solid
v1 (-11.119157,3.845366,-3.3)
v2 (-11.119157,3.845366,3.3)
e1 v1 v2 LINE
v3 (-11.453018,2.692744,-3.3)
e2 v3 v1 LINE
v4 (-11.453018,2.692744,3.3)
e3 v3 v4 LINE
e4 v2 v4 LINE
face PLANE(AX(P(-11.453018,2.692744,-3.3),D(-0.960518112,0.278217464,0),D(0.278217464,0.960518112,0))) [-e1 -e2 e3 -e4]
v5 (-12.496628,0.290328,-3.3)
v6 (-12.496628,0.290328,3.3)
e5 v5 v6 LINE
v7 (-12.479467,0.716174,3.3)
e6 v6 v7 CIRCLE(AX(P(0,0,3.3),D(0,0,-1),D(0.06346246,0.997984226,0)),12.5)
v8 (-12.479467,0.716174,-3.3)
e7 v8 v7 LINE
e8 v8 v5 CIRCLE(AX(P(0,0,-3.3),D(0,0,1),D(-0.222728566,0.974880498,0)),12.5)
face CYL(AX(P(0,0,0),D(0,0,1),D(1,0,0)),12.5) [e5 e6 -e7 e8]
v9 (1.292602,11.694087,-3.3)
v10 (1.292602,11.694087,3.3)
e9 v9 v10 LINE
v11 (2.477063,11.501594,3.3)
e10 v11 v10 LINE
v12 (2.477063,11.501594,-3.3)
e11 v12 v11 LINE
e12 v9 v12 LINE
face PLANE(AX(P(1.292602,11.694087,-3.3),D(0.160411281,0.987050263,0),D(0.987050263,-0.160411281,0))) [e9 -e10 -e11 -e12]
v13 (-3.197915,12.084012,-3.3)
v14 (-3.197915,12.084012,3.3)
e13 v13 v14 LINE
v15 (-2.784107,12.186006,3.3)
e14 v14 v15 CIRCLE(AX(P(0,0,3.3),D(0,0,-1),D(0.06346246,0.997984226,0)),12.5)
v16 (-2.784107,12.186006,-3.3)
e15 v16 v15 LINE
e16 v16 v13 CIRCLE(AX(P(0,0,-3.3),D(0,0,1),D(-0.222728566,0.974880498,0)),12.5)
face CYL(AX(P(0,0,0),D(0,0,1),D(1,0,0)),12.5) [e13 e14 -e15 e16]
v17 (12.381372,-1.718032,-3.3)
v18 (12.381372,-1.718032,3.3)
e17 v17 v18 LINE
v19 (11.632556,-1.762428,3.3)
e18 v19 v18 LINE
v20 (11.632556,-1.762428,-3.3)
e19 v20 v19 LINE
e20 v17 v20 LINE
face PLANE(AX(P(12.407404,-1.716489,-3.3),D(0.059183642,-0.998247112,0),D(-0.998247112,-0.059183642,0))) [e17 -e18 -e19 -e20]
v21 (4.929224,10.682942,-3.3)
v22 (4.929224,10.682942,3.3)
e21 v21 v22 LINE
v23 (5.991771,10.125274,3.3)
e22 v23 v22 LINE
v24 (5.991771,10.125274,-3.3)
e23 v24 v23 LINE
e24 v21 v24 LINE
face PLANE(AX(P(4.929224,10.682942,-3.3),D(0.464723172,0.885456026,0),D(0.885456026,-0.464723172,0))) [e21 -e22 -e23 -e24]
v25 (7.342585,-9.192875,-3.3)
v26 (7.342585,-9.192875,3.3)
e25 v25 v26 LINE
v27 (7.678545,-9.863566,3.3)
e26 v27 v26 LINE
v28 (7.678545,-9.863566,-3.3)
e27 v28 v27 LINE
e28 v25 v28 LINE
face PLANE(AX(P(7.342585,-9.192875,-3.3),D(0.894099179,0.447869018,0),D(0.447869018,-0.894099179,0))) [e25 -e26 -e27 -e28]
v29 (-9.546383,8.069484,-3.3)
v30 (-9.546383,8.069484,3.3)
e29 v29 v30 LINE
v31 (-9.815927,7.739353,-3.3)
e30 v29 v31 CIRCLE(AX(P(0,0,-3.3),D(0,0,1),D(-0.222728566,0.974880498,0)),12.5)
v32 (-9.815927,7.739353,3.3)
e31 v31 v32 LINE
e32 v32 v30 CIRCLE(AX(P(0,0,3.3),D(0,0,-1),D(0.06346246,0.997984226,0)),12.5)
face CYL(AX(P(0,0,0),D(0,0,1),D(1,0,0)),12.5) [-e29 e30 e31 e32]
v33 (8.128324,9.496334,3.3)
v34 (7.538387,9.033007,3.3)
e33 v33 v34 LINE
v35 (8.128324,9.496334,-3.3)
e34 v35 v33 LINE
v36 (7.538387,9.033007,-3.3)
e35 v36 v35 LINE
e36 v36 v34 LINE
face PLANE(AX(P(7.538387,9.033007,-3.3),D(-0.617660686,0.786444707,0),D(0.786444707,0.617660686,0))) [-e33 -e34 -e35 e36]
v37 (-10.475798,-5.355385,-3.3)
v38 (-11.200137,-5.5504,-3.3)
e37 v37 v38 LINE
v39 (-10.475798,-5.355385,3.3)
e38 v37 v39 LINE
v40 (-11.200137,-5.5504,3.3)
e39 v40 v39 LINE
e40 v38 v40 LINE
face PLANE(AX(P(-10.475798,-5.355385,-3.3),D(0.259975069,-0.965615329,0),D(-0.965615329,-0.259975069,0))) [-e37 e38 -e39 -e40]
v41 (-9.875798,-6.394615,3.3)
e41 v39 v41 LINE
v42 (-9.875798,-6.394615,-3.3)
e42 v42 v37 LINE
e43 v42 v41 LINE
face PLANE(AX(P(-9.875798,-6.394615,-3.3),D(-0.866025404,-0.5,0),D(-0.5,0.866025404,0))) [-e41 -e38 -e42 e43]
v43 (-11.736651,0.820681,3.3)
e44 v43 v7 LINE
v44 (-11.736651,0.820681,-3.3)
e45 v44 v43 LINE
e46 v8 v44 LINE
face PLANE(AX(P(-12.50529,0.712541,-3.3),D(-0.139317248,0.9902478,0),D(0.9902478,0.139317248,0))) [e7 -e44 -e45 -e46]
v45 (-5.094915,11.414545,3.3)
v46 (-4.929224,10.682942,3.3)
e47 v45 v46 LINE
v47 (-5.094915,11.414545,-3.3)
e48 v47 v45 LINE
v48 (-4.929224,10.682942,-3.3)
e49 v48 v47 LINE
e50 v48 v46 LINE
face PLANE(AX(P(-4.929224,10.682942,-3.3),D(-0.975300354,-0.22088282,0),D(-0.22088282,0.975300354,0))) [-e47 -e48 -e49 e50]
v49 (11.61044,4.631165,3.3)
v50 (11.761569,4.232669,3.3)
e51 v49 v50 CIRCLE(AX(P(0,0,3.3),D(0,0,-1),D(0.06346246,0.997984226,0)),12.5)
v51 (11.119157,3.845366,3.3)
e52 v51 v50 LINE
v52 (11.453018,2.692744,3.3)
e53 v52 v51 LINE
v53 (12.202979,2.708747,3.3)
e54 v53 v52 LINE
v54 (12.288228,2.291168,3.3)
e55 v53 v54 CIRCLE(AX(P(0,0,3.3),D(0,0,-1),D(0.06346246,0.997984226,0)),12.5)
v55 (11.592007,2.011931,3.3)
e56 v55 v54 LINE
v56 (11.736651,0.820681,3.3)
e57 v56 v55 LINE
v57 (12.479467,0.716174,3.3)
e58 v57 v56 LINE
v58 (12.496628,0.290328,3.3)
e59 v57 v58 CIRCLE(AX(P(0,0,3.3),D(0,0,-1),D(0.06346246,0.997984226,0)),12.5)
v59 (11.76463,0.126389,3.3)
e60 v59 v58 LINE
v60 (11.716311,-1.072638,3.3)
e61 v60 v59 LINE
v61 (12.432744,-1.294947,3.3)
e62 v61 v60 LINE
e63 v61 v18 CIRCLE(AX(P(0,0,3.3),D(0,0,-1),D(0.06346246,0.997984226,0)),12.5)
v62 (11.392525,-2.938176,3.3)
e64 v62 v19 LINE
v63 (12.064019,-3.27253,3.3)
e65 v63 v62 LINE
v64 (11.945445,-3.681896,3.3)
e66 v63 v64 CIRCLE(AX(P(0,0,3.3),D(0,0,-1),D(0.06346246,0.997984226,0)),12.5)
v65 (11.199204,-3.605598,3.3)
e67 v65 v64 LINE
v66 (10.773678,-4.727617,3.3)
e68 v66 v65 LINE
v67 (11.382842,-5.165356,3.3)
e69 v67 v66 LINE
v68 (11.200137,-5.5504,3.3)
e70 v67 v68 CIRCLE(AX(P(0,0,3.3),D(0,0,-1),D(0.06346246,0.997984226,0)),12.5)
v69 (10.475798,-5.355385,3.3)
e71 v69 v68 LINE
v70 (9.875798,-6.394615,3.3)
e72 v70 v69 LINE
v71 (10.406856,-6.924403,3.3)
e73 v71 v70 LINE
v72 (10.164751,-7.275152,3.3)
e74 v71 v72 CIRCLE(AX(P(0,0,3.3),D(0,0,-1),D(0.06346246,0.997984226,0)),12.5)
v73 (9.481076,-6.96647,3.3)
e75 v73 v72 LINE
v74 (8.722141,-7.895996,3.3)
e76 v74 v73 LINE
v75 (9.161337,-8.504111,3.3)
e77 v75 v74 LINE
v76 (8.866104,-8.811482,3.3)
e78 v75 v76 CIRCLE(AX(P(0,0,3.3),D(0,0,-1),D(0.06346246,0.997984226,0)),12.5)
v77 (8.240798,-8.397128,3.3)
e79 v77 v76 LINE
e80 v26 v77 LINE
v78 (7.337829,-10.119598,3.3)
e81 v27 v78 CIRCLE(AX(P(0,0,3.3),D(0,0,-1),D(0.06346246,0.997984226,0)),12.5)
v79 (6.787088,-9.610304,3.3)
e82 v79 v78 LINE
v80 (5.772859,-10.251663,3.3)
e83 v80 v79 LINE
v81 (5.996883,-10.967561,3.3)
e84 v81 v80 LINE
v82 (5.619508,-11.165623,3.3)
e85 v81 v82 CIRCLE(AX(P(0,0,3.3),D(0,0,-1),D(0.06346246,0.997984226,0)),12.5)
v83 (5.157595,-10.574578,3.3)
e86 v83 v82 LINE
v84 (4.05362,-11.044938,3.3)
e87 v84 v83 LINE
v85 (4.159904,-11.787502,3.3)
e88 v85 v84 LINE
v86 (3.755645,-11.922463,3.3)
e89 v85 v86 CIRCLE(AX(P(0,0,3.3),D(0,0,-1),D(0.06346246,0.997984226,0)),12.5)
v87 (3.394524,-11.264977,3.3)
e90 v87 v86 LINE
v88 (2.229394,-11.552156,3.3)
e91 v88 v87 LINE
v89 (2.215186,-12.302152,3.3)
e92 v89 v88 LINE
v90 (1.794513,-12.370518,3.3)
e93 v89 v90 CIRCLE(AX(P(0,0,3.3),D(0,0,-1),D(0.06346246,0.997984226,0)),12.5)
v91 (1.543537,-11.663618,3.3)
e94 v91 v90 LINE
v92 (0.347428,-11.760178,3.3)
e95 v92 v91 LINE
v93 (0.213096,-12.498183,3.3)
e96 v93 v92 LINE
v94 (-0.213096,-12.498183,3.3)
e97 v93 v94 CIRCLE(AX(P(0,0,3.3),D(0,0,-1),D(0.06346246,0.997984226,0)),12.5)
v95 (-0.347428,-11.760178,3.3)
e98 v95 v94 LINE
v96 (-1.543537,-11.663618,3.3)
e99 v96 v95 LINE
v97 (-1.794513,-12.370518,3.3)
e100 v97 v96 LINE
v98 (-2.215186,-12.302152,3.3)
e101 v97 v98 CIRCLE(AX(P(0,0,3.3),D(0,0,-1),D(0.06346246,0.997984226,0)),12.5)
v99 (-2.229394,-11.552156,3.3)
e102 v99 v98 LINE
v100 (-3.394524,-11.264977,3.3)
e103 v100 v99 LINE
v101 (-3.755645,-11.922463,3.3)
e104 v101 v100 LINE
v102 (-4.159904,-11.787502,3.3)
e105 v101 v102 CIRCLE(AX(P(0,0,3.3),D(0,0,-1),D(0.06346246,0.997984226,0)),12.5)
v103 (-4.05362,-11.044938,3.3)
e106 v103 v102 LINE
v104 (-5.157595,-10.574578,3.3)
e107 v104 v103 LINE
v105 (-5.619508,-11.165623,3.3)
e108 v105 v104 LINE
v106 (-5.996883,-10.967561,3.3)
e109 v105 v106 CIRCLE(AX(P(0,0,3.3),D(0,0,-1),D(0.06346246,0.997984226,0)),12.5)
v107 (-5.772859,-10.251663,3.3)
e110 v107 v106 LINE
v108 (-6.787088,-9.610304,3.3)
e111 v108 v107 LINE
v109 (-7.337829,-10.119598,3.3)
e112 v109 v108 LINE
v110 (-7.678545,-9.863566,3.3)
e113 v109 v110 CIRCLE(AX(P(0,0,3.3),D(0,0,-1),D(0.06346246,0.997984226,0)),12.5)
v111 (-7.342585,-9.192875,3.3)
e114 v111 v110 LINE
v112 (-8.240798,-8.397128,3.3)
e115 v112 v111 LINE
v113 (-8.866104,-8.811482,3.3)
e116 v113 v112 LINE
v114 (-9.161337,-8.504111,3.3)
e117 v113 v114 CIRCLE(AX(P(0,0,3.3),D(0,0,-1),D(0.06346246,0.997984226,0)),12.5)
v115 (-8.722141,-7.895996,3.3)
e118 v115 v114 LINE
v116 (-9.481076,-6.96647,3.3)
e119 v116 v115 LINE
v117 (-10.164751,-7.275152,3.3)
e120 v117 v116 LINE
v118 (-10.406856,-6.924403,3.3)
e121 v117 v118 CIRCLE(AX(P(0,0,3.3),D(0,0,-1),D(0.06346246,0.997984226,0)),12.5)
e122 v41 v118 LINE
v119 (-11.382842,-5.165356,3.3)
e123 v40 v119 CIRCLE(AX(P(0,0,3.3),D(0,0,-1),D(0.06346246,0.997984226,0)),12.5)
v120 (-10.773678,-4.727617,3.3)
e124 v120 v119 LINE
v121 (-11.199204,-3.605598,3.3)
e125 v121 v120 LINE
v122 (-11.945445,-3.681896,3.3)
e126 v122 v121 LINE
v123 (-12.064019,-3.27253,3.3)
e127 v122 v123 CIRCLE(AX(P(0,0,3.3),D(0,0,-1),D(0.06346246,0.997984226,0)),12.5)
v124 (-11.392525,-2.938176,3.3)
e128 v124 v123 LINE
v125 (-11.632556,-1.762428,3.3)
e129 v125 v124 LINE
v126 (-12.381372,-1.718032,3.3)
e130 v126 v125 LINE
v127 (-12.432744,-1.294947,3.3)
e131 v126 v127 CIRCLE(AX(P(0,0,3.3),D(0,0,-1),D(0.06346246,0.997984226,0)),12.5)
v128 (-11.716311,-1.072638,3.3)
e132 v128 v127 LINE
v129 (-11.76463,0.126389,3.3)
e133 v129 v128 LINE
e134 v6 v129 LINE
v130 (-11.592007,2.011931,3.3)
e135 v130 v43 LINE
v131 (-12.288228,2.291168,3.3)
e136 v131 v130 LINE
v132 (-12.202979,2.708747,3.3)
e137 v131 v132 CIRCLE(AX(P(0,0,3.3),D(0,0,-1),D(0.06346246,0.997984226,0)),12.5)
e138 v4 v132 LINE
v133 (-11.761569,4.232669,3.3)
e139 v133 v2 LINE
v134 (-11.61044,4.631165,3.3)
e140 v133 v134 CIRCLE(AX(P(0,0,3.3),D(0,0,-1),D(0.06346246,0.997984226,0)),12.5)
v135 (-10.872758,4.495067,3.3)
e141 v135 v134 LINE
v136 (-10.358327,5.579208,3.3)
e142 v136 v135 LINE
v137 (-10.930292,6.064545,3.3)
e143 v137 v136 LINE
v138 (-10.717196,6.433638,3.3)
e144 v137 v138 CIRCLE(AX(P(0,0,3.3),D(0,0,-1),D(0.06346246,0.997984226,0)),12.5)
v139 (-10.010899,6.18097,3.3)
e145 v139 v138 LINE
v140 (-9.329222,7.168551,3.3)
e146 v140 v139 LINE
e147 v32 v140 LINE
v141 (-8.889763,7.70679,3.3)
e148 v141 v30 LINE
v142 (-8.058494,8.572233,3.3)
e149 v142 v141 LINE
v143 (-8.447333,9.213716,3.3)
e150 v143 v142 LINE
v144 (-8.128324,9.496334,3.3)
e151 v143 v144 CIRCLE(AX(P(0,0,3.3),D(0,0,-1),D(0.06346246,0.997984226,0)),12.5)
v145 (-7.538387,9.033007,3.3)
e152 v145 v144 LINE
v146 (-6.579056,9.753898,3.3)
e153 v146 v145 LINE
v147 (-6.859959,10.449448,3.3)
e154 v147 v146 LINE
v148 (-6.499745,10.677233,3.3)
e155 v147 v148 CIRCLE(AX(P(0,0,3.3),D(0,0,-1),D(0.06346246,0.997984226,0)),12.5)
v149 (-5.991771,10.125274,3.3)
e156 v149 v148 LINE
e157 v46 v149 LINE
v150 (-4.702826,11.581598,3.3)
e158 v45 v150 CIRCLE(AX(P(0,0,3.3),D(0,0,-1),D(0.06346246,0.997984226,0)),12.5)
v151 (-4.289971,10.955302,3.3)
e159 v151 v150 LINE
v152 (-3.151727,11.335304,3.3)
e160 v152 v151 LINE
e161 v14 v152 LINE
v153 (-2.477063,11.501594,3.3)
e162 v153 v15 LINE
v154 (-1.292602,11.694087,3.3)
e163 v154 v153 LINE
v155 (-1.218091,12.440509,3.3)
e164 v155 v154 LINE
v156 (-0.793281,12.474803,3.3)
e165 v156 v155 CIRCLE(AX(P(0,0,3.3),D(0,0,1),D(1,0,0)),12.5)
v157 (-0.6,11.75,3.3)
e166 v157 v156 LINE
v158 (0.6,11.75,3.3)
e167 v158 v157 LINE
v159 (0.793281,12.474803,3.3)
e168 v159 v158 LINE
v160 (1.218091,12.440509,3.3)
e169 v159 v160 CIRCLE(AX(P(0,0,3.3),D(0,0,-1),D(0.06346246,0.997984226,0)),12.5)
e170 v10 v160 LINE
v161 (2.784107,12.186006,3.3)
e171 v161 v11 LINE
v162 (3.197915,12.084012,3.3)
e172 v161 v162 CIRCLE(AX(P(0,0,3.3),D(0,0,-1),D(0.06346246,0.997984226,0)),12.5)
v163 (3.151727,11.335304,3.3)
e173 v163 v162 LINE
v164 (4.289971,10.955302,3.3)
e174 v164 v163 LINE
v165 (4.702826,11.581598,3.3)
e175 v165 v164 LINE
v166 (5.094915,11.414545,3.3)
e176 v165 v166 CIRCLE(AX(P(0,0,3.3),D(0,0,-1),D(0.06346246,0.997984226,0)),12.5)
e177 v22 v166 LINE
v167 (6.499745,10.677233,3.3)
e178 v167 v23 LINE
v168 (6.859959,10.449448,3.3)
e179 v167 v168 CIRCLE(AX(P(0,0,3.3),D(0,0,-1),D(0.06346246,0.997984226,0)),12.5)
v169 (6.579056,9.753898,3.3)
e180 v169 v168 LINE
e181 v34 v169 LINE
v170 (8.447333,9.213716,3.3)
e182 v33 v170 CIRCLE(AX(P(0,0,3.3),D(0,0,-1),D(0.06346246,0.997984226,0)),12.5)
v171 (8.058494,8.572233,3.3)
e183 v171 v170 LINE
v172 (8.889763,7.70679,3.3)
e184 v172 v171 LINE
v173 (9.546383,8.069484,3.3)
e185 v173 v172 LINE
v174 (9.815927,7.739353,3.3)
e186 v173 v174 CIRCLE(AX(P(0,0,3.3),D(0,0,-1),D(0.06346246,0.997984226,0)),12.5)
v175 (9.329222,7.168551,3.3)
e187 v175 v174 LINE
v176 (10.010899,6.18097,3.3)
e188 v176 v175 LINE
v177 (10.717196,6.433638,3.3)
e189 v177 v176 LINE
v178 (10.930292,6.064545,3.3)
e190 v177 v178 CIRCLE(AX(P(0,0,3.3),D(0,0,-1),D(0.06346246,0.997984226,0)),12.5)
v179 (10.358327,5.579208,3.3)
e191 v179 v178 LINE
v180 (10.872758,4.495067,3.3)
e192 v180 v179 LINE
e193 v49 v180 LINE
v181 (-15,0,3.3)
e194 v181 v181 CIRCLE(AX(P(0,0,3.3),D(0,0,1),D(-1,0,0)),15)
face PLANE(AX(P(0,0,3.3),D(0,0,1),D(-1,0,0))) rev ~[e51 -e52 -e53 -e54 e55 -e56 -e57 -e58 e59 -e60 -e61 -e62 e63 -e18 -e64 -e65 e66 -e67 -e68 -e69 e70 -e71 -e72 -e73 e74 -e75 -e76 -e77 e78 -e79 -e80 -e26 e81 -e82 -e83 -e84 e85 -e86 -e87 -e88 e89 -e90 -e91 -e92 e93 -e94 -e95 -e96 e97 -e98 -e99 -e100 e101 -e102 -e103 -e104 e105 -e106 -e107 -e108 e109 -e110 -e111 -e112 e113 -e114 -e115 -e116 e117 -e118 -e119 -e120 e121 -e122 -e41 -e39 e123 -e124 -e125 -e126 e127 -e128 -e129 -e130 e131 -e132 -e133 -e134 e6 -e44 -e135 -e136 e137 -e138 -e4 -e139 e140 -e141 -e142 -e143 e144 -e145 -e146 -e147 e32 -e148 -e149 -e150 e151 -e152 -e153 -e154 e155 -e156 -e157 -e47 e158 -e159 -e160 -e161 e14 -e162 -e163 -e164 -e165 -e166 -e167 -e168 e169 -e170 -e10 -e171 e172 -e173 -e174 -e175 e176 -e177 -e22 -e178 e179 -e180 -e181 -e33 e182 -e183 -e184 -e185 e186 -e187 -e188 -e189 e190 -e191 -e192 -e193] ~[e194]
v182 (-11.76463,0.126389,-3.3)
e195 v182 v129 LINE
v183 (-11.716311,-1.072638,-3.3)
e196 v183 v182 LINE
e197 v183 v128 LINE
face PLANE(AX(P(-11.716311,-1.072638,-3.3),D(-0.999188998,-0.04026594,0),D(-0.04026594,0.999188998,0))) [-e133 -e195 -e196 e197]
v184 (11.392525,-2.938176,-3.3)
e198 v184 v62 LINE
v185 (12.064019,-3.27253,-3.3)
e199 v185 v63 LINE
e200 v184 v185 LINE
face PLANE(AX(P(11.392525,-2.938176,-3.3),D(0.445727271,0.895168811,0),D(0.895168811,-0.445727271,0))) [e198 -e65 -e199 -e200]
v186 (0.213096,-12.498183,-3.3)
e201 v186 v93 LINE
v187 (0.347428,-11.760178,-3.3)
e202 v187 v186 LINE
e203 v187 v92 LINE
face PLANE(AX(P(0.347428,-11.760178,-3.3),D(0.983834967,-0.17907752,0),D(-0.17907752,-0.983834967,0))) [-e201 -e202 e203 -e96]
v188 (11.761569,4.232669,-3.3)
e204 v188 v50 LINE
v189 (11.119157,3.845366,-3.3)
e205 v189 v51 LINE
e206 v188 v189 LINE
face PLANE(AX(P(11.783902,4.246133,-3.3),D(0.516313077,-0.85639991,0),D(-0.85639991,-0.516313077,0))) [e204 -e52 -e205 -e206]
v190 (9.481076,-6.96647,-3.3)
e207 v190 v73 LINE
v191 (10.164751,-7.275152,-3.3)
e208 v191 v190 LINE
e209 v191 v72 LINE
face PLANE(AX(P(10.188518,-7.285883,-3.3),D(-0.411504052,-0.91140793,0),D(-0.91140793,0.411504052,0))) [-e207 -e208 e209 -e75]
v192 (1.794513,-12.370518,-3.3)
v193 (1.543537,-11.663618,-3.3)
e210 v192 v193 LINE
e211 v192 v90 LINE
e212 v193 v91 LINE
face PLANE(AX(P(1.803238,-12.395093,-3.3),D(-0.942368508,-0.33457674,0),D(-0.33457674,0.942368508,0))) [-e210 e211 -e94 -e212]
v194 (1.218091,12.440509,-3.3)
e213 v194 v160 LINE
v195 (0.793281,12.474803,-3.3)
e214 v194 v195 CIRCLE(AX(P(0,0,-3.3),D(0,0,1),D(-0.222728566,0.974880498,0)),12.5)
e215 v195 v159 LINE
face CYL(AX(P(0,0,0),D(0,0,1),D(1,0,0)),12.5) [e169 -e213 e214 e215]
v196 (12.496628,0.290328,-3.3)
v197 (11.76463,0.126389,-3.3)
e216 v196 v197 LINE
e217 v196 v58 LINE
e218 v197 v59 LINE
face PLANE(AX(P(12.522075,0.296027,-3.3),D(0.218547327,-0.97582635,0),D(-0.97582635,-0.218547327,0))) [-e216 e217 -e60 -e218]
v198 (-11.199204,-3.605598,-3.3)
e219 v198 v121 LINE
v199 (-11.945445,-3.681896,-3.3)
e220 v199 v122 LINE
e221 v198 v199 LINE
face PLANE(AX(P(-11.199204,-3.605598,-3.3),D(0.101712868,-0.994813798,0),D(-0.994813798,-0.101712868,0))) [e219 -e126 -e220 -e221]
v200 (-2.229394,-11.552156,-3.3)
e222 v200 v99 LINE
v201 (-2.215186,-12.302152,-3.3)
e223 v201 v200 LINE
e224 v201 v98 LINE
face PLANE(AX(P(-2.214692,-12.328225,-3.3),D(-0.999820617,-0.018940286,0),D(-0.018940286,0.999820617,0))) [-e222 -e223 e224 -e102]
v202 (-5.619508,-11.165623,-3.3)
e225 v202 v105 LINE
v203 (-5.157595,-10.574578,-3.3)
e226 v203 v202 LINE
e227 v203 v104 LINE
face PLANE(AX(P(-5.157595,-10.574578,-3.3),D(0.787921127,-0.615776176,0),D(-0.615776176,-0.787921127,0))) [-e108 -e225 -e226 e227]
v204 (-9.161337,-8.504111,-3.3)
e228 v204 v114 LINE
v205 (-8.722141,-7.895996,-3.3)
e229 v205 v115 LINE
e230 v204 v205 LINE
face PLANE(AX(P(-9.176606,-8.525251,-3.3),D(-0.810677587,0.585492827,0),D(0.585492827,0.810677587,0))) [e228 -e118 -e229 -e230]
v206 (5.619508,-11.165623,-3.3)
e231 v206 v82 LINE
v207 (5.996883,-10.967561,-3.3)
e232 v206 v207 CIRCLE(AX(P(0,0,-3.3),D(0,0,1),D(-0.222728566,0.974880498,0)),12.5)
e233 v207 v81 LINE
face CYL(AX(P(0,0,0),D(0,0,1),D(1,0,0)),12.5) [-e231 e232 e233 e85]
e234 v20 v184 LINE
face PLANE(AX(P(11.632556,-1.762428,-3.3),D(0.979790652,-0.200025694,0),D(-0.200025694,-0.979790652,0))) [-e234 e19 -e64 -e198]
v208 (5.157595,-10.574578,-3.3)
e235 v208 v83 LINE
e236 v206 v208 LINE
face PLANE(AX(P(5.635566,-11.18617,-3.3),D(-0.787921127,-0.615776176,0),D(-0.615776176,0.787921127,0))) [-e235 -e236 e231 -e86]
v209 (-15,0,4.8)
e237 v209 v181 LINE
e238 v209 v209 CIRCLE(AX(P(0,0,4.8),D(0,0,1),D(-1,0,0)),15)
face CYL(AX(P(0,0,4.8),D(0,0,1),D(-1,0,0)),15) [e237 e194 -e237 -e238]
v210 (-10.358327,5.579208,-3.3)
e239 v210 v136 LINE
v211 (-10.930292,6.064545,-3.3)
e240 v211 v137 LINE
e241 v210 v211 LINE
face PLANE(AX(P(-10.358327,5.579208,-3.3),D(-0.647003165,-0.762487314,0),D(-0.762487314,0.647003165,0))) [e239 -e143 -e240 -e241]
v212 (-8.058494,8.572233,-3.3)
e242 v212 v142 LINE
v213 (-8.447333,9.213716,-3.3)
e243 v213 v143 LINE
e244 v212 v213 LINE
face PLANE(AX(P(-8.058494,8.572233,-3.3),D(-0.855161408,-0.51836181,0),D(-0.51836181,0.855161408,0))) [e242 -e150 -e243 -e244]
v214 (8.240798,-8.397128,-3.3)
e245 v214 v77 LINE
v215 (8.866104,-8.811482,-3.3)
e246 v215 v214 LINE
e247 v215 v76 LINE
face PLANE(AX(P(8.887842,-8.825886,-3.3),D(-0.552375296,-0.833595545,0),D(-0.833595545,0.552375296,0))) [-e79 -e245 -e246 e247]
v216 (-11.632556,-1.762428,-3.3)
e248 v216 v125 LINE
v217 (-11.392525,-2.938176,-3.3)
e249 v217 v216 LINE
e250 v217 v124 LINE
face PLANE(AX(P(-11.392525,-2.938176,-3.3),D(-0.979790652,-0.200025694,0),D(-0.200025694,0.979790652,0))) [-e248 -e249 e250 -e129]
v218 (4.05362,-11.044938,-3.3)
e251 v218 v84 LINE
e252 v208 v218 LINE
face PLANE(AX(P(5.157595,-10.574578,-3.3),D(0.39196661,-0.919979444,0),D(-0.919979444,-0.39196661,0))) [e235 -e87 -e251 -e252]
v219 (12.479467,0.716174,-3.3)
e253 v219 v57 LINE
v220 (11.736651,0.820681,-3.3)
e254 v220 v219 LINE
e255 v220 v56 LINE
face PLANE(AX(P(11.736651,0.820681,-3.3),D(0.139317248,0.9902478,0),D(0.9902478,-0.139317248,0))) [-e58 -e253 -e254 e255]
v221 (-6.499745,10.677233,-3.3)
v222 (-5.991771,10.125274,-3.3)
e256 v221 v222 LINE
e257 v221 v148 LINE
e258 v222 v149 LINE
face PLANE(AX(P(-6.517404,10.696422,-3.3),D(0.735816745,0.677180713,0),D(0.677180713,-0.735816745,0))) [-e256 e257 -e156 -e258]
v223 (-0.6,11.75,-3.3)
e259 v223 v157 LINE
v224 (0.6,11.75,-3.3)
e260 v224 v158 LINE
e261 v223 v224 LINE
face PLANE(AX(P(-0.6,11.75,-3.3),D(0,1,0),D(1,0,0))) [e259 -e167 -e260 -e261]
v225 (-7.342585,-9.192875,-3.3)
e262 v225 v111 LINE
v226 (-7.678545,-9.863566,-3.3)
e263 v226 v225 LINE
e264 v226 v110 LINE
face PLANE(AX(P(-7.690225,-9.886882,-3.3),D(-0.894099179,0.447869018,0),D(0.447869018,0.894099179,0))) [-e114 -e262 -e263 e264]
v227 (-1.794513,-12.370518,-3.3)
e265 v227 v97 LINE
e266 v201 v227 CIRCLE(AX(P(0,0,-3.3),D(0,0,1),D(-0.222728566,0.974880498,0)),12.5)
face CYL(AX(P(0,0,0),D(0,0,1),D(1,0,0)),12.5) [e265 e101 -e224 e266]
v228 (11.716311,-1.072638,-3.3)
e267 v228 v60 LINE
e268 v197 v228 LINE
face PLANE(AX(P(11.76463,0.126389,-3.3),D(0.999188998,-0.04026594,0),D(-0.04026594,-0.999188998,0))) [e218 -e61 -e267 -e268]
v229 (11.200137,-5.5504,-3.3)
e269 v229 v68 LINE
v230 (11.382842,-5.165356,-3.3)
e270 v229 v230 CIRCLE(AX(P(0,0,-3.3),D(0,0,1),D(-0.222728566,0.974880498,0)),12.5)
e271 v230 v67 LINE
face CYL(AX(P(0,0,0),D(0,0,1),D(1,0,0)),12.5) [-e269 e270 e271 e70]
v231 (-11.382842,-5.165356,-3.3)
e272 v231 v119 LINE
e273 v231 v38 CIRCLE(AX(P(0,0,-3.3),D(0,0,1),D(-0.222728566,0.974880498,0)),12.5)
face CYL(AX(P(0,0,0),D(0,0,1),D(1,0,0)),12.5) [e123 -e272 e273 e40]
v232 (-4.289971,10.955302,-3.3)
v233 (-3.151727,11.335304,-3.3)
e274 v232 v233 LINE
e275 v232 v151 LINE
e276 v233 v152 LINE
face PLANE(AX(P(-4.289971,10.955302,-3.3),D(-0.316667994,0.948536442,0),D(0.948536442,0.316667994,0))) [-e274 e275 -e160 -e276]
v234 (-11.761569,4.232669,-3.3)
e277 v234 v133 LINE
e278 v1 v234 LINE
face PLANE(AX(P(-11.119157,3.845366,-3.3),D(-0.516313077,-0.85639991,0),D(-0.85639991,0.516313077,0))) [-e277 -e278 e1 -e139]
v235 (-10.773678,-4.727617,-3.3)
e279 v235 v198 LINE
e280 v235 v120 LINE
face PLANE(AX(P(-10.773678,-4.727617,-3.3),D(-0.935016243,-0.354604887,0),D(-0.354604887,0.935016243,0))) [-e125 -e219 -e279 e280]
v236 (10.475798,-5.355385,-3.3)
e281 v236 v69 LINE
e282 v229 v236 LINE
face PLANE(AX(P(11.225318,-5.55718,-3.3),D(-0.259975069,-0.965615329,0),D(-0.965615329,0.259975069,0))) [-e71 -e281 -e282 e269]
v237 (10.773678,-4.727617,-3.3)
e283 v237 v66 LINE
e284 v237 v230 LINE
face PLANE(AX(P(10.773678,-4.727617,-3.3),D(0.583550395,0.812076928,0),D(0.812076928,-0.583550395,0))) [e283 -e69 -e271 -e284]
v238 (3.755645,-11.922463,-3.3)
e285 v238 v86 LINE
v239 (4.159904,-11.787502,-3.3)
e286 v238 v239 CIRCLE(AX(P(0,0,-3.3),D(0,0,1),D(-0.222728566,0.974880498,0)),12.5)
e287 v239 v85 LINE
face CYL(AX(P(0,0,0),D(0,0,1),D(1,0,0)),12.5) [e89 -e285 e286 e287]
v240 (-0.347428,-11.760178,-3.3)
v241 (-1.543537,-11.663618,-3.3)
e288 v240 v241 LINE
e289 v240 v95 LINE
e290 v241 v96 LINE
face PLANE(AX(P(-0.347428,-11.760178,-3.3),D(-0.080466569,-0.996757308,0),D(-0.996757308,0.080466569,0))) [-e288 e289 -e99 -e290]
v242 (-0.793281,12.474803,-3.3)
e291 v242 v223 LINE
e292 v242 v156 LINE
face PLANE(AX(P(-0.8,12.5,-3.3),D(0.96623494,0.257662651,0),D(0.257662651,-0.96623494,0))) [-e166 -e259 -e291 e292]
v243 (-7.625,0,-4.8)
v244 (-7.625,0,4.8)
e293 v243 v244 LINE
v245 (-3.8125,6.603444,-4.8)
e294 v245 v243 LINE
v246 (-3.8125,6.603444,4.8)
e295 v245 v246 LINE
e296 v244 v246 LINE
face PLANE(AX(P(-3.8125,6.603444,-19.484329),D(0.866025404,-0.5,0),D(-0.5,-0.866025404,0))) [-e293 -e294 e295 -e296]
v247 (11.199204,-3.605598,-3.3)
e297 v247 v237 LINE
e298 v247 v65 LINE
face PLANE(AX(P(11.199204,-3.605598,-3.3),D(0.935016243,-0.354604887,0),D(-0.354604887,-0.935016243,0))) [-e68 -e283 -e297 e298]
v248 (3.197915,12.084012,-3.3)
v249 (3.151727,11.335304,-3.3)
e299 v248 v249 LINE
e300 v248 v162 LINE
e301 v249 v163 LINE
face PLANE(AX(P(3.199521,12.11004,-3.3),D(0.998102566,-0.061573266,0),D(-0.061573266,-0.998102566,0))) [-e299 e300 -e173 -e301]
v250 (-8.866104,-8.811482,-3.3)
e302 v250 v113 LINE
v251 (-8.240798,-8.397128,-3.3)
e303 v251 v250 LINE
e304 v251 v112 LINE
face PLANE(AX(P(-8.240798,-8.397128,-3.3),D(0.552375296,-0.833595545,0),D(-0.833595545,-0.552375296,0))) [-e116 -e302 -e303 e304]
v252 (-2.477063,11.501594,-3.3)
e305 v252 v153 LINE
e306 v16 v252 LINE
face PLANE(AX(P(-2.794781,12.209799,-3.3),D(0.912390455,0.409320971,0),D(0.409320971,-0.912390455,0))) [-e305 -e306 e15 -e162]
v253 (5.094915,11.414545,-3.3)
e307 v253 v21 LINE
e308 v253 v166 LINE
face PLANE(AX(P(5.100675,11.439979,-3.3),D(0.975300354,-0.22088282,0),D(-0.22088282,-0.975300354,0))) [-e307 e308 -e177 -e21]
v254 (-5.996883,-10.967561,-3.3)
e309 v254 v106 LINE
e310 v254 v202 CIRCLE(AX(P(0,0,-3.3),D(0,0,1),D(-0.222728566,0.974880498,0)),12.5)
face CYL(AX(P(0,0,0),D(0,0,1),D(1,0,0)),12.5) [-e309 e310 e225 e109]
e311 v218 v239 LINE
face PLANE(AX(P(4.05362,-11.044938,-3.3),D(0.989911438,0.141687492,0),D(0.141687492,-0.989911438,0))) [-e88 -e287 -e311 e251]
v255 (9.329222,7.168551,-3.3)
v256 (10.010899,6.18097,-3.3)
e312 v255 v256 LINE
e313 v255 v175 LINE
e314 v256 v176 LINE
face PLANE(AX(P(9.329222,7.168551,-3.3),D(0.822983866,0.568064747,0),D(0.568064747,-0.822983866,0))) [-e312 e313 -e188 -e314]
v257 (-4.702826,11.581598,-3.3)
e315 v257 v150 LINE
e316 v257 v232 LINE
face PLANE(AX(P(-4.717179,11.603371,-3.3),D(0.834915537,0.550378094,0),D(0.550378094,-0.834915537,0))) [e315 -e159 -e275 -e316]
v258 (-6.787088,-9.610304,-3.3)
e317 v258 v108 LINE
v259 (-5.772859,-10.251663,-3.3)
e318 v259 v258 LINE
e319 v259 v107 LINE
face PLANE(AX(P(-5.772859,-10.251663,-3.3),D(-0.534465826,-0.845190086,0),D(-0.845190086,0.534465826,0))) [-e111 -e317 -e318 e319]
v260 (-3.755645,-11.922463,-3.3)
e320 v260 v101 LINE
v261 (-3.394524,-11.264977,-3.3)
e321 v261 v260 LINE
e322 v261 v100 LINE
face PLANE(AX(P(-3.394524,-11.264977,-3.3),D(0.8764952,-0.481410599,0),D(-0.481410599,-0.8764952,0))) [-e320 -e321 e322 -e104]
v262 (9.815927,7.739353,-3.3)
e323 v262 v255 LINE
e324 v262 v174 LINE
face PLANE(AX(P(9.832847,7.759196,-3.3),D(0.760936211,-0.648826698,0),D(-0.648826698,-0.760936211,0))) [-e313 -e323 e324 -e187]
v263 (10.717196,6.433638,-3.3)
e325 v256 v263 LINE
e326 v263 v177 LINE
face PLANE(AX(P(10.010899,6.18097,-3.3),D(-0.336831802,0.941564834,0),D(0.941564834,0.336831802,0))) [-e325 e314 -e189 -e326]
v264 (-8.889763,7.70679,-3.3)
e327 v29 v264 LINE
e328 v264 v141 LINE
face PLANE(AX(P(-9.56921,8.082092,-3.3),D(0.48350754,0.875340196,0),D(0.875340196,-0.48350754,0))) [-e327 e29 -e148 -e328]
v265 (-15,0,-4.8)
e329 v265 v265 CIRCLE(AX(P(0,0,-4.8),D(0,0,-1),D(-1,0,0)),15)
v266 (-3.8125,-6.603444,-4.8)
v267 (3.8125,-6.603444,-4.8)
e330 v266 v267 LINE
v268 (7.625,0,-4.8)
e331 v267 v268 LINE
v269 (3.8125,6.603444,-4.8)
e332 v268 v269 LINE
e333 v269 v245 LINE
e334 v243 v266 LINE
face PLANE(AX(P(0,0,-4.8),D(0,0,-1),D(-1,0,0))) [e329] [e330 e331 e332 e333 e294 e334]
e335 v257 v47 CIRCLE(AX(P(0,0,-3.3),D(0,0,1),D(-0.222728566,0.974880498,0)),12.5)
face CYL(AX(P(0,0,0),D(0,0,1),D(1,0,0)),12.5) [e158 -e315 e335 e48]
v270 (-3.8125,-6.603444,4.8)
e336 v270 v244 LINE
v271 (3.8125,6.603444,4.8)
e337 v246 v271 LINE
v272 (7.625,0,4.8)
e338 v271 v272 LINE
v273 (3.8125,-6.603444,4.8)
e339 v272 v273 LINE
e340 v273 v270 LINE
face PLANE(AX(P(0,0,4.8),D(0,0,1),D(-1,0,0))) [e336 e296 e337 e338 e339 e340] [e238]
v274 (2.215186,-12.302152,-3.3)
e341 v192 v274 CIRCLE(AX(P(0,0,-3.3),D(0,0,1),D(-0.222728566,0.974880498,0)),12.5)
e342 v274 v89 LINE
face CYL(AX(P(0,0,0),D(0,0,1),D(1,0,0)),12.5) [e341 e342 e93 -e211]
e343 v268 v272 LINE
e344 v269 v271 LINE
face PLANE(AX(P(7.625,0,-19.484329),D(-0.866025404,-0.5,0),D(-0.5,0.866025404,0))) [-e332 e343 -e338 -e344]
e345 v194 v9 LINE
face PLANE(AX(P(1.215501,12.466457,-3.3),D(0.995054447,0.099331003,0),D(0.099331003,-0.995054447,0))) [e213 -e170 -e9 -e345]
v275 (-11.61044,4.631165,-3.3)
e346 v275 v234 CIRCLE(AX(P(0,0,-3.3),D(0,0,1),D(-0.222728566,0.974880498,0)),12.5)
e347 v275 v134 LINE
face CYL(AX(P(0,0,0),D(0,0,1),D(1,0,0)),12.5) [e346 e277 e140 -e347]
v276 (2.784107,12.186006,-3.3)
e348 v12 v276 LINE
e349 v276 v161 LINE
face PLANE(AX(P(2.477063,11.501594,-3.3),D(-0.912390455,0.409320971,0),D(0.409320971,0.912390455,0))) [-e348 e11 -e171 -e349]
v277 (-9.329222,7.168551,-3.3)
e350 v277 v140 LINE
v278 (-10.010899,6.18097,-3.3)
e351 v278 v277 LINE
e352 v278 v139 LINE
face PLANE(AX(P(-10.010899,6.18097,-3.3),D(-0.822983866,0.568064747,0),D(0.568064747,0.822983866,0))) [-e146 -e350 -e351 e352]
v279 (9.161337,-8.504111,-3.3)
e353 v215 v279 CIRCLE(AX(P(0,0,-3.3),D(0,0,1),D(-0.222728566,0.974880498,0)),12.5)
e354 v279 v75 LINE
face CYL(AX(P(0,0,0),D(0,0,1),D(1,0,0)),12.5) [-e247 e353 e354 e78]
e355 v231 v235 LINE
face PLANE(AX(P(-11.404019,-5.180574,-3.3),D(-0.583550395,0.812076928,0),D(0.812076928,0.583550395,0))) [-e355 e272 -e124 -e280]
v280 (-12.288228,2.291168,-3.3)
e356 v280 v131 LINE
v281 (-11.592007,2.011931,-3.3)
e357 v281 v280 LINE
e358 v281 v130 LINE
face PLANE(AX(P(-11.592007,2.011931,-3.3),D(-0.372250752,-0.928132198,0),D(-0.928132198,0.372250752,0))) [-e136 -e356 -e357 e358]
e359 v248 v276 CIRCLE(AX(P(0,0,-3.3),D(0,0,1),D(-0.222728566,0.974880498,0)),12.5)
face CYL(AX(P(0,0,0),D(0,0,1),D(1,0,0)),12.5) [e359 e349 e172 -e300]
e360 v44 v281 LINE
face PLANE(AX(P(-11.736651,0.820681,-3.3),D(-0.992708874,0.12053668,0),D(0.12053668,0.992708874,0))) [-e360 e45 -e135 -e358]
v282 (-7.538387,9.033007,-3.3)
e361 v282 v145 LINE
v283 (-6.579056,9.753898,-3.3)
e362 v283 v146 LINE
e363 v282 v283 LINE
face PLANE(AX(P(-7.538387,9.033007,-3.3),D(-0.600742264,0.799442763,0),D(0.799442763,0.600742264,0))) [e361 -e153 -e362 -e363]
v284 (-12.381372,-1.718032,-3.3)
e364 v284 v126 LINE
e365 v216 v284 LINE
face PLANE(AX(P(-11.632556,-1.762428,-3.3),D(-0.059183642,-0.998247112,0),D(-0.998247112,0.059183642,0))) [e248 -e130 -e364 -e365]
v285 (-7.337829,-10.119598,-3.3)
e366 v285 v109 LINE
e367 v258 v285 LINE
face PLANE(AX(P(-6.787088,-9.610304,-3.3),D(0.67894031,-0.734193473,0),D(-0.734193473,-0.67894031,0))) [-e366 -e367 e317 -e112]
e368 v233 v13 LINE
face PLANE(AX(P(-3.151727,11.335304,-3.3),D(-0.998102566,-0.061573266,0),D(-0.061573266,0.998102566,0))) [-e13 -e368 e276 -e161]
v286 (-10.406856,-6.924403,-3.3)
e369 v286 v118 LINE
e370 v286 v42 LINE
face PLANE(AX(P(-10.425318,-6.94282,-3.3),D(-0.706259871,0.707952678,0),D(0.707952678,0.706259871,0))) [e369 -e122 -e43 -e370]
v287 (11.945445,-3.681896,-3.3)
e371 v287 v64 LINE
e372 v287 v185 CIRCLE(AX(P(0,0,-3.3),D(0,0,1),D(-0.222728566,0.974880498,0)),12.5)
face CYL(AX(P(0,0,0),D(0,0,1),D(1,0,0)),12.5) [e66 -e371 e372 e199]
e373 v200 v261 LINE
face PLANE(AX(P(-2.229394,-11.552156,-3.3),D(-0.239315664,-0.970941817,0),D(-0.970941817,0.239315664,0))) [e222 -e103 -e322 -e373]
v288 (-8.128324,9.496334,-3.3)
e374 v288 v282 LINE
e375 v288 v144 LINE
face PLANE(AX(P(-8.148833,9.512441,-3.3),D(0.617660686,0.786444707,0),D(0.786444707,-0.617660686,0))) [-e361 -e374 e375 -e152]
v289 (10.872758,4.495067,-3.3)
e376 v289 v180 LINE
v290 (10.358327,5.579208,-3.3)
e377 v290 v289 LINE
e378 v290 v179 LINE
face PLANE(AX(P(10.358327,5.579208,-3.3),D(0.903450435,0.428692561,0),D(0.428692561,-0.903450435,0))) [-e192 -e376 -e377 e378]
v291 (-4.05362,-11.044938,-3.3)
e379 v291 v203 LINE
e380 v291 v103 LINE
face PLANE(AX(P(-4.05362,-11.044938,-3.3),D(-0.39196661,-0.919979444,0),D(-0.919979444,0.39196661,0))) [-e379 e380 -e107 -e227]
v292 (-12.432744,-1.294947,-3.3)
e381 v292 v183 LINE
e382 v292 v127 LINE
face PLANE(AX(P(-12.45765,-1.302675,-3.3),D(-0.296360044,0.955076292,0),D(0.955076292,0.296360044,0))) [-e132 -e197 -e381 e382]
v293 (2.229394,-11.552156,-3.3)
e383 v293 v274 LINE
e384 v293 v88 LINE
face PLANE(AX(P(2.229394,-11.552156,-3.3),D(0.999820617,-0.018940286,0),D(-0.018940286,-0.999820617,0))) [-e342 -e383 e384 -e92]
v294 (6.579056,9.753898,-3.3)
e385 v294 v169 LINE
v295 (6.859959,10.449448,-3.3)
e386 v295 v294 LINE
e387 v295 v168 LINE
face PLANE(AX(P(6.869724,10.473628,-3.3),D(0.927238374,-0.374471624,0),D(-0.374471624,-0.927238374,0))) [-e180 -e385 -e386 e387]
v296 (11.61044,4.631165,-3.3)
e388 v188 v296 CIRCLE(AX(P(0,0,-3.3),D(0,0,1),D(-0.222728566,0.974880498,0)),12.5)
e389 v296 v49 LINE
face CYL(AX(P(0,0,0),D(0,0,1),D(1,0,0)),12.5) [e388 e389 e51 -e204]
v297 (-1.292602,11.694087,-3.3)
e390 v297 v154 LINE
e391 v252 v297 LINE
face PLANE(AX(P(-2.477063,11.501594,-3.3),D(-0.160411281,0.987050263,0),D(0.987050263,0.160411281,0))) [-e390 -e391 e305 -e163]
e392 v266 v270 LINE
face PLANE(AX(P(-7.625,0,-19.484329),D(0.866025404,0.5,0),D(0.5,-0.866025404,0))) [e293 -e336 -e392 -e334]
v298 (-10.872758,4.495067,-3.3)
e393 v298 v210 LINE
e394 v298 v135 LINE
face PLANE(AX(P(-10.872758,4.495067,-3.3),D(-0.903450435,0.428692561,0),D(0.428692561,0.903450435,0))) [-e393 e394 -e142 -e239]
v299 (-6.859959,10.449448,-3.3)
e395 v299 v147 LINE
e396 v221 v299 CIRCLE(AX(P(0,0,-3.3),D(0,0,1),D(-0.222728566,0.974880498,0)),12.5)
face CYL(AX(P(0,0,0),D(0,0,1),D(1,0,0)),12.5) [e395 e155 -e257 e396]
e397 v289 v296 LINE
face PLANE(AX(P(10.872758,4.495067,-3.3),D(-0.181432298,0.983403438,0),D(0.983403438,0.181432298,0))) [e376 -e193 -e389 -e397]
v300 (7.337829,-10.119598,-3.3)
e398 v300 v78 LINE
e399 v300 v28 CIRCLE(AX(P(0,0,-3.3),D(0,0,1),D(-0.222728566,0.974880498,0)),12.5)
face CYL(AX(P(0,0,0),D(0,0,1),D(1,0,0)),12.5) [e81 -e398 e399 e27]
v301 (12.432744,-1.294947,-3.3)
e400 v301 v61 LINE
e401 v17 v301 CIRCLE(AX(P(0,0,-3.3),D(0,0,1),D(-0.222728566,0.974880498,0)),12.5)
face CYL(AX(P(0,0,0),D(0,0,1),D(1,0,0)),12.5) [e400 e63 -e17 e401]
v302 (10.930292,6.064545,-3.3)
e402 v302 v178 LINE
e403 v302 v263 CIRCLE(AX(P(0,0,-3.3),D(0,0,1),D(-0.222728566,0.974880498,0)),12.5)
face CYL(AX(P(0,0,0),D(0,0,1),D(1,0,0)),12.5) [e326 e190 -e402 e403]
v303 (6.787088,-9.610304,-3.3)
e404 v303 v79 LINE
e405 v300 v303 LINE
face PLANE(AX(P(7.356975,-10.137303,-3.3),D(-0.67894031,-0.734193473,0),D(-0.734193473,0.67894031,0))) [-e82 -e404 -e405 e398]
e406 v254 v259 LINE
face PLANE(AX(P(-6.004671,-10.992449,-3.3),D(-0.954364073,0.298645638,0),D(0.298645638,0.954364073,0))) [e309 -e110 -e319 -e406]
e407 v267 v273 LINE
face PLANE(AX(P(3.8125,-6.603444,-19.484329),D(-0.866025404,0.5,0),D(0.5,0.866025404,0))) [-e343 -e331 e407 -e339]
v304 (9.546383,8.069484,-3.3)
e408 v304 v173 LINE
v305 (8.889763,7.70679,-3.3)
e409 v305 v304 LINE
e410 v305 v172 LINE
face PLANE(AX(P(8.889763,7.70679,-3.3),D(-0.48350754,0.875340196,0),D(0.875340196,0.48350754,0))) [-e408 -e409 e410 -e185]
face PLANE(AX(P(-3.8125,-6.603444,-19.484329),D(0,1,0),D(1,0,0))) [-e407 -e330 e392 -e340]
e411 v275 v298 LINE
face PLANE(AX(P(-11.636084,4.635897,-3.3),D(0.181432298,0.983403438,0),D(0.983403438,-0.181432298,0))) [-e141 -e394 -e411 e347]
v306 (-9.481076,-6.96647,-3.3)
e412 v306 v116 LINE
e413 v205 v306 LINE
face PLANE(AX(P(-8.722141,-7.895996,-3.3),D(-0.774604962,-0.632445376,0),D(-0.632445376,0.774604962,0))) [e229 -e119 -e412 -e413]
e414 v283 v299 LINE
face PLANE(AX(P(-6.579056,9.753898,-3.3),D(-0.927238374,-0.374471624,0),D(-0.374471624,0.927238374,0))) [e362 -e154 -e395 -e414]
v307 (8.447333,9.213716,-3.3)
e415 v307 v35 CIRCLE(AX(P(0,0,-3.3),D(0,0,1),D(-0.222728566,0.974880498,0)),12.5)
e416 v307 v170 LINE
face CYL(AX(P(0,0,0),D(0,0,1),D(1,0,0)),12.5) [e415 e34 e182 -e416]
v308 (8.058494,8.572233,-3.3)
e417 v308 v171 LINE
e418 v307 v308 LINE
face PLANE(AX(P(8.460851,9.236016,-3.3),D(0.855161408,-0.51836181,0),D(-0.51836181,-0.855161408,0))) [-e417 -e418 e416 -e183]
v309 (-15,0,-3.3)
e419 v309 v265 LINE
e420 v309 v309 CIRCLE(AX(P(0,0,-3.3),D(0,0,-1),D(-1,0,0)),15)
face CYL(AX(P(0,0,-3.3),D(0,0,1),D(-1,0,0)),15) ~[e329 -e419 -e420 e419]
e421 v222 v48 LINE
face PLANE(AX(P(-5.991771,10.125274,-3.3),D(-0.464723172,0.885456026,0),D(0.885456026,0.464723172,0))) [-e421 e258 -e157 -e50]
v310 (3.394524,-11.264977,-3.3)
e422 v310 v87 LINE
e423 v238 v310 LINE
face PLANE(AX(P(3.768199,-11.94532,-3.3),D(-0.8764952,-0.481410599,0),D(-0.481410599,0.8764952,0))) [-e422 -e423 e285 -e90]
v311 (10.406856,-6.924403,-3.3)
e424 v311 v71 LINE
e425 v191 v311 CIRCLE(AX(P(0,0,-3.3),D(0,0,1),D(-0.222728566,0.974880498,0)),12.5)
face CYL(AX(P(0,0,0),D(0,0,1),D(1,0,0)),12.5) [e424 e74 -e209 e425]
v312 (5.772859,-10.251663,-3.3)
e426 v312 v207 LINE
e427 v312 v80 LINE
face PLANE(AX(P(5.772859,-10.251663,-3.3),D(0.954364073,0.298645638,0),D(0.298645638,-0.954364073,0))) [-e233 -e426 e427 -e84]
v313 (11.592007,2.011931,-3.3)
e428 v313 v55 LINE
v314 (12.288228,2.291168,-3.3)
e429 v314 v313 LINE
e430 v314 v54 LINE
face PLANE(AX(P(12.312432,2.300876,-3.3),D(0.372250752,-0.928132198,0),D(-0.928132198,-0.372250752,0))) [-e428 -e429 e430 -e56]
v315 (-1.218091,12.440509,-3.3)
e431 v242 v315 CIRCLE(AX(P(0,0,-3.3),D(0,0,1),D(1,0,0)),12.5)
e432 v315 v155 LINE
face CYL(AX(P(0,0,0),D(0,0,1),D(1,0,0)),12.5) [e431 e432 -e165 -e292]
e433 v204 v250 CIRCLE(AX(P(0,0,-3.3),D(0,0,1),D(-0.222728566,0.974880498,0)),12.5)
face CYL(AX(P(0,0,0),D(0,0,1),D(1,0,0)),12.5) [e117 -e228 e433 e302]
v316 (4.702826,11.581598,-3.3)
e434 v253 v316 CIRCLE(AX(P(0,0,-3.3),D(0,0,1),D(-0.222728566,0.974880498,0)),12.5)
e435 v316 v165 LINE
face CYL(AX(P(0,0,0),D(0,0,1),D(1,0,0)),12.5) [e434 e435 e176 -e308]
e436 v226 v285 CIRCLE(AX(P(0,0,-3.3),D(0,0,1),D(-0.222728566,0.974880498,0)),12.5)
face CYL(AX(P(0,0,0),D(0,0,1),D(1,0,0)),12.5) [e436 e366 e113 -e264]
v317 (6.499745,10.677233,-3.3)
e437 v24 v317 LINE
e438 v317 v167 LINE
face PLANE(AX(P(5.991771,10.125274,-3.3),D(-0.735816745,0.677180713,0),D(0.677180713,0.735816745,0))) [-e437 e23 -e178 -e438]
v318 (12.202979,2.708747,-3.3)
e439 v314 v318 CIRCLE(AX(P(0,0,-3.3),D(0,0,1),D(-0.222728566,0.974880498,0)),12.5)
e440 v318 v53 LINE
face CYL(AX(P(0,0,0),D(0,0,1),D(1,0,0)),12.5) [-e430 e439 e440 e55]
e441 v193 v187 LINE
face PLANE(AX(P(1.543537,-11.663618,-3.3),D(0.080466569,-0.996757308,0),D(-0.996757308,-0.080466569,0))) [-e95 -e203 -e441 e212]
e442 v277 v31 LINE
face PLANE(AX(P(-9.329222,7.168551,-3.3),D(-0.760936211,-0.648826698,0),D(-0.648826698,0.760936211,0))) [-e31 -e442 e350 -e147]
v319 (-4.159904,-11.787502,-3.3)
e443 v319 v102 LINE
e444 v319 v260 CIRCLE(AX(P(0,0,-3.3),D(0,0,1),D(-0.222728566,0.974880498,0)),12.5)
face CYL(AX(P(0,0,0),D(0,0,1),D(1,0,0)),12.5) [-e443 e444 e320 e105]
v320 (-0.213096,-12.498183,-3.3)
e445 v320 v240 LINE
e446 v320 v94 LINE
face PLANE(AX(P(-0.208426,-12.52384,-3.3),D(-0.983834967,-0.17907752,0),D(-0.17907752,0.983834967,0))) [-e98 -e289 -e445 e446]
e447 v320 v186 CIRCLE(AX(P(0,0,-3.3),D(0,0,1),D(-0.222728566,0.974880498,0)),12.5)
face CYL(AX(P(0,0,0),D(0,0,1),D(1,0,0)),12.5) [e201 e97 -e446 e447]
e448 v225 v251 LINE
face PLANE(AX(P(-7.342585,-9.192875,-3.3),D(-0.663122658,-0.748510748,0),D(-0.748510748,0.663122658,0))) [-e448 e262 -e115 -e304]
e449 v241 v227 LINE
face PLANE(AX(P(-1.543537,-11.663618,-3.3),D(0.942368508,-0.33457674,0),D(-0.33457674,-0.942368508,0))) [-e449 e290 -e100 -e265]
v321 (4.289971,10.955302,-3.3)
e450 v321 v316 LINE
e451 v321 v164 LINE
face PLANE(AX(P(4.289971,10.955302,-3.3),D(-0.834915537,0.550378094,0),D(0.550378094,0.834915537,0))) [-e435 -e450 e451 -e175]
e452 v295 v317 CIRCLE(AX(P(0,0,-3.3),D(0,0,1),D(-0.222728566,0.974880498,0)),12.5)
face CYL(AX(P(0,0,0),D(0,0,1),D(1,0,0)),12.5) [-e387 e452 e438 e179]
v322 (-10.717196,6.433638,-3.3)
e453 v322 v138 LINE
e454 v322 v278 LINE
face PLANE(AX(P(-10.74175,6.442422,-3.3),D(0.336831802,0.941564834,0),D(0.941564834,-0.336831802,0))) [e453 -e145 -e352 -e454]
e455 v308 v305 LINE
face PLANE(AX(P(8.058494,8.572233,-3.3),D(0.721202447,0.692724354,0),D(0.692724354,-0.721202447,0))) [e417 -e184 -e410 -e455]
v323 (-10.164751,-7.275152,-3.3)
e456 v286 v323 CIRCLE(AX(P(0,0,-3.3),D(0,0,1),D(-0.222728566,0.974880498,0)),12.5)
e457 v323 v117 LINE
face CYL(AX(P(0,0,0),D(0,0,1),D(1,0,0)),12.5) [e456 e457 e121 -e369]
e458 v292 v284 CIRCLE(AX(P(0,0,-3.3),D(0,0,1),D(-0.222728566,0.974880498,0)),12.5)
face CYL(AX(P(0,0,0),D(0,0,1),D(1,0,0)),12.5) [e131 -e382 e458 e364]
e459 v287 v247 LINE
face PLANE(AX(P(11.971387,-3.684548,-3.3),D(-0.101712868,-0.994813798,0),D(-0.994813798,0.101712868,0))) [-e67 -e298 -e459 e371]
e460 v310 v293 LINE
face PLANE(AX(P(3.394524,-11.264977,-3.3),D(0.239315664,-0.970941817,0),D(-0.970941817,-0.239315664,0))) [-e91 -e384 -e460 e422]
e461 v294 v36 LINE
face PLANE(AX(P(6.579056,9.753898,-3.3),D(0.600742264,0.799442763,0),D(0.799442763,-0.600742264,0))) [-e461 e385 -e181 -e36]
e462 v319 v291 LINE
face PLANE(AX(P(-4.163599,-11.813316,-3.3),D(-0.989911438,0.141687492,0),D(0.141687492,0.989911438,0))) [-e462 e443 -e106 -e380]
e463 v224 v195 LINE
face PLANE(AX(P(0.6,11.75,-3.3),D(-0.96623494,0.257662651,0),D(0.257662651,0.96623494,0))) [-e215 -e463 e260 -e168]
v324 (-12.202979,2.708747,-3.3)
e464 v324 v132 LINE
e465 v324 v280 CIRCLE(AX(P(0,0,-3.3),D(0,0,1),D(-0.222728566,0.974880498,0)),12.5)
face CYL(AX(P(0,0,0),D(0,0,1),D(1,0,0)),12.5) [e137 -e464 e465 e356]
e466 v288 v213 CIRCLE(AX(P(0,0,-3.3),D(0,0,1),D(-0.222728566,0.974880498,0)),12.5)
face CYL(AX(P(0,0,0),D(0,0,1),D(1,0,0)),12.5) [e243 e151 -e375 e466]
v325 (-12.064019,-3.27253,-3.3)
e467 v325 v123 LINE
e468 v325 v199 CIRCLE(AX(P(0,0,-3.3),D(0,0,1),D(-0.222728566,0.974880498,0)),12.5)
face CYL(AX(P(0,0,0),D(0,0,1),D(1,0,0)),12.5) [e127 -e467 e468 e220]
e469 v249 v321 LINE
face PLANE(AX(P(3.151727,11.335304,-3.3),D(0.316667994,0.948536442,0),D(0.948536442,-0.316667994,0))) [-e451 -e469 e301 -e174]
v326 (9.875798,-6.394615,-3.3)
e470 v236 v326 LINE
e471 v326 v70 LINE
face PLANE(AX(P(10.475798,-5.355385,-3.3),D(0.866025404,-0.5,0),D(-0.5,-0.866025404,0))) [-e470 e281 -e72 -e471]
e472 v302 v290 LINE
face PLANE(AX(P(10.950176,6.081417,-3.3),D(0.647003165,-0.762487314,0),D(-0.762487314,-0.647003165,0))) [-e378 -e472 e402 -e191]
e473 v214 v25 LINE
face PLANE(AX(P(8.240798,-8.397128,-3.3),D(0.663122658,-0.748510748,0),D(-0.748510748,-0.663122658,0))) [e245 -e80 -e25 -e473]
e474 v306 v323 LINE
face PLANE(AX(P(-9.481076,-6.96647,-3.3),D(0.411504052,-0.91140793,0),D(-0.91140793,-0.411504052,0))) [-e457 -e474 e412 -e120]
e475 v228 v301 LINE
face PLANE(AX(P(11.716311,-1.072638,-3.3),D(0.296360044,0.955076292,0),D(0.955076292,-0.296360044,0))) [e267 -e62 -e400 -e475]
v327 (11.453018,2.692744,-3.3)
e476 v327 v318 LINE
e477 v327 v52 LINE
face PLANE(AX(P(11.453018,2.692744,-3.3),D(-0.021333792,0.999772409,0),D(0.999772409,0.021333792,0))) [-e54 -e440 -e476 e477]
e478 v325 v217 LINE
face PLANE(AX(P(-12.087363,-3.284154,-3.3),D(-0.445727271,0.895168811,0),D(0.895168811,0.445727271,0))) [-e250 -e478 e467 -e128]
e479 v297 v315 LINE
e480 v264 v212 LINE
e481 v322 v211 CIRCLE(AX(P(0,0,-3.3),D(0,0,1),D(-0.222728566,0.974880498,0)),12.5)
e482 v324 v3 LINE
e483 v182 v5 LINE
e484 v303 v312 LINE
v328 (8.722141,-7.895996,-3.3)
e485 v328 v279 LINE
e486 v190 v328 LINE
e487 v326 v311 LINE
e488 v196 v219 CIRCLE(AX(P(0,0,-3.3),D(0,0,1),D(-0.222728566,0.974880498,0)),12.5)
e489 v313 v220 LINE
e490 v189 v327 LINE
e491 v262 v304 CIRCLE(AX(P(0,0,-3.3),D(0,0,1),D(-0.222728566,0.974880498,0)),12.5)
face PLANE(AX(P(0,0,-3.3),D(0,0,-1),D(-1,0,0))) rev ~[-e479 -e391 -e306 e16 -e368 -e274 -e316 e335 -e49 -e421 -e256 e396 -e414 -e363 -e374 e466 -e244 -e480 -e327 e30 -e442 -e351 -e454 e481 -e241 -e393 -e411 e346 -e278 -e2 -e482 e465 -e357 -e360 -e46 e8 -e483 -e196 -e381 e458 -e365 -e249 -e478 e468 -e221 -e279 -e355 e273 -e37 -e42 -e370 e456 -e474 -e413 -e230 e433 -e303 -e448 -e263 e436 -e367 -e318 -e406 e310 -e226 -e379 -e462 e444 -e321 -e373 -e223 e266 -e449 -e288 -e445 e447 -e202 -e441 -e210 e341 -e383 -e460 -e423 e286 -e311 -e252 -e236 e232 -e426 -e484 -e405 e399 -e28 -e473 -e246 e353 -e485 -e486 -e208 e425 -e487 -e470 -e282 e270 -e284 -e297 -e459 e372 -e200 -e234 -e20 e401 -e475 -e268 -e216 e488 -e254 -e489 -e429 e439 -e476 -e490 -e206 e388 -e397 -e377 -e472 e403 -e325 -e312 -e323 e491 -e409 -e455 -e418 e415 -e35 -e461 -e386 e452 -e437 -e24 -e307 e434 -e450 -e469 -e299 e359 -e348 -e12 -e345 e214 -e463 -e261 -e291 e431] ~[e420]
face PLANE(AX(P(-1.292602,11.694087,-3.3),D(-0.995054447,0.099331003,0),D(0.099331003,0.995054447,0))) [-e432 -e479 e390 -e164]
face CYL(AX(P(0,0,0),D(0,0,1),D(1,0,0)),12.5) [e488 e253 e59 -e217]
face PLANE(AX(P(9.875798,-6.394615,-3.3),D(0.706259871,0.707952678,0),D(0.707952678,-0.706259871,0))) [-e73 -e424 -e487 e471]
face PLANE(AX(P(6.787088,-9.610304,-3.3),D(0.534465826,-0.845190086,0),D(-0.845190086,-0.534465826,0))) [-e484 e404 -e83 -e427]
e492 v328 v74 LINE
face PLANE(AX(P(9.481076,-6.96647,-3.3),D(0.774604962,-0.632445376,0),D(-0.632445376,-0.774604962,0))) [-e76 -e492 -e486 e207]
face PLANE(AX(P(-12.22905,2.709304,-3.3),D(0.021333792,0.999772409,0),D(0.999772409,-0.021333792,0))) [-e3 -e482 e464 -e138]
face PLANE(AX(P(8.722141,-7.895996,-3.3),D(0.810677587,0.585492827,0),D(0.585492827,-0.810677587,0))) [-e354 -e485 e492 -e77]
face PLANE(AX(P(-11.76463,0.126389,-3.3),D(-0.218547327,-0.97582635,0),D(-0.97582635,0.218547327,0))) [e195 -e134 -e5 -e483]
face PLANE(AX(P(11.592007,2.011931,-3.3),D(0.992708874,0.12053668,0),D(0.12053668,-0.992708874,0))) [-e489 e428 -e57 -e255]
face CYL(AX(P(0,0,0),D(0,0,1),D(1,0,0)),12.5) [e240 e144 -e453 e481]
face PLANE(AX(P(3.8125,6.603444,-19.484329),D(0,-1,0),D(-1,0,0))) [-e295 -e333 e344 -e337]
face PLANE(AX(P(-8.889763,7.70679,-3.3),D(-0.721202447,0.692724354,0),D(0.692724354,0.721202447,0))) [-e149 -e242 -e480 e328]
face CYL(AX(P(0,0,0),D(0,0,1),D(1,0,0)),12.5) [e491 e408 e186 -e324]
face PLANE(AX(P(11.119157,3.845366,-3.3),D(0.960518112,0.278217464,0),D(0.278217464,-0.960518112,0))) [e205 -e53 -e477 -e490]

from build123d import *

# Parameters (mm, degrees)
SKETCH1_R               = 12.5
BOSS_EXTRUDE1_DEPTH     = 3.3
CUT_EXTRUDE1_START      = -6.6
CUT_EXTRUDE1_DEPTH      = 26.469552194
CIRPATTERN2_COUNT       = 39
SKETCH2_R               = 15
BOSS_EXTRUDE3_DEPTH     = 1.5
BOSS_EXTRUDE4_START     = 1.5
SKETCH3_R               = 14.999999972
BOSS_EXTRUDE4_DEPTH     = 1.5
CUT_EXTRUDE2_DEPTH      = 24.284329494
CUT_EXTRUDE2_DEPTH_BACK = 24.284329494


with BuildPart() as part:
    # Sketch1 → Boss-Extrude1 (new, symmetric)
    with BuildSketch(Plane.XY):
        Circle(SKETCH1_R)
    extrude(amount=BOSS_EXTRUDE1_DEPTH, both=True)

    # Sketch4 → Cut-Extrude1 (cut)
    with BuildSketch(Plane.XY.offset(3.3).offset(CUT_EXTRUDE1_START)):
        Polygon((-0.6, 11.75), (0.6, 11.75), (0.8, 12.5), (-0.8, 12.5), align=None)
    cut_extrude1 = extrude(amount=CUT_EXTRUDE1_DEPTH, mode=Mode.SUBTRACT)

    # CirPattern2: Cut-Extrude1 ×39 about axis
    cirpattern2_axis = Axis((0, 0, 0), (0, 0, 1))
    for i in range(1, CIRPATTERN2_COUNT):
        add(cut_extrude1.rotate(cirpattern2_axis, i * 360 / CIRPATTERN2_COUNT), mode=Mode.SUBTRACT)

    # Sketch2 → Boss-Extrude3 (add)
    with BuildSketch(Plane(origin=(0, 0, -3.3), x_dir=(-1, 0, 0), z_dir=(0, 0, -1))):
        Circle(SKETCH2_R)
    extrude(amount=BOSS_EXTRUDE3_DEPTH)

    # Sketch3 → Boss-Extrude4 (add)
    with BuildSketch(Plane.XY.offset(3.3).offset(BOSS_EXTRUDE4_START)):
        with Locations(Location((0, 0, 0), (0, 0, 180))):
            Circle(SKETCH3_R)
    extrude(amount=-BOSS_EXTRUDE4_DEPTH)

    # Sketch5 → Cut-Extrude2 (cut, two sides: drawn at the far end of the back side and taken through both)
    with BuildSketch(Plane.XY.offset(4.8).offset(-CUT_EXTRUDE2_DEPTH_BACK)):
        Polygon((7.625, 0), (3.8125, 6.603443704), (-3.8125, 6.603443704), (-7.625, 0), (-3.8125, -6.603443704), (3.8125, -6.603443704), align=None)
    extrude(amount=CUT_EXTRUDE2_DEPTH + CUT_EXTRUDE2_DEPTH_BACK, mode=Mode.SUBTRACT)


solid = part.part
